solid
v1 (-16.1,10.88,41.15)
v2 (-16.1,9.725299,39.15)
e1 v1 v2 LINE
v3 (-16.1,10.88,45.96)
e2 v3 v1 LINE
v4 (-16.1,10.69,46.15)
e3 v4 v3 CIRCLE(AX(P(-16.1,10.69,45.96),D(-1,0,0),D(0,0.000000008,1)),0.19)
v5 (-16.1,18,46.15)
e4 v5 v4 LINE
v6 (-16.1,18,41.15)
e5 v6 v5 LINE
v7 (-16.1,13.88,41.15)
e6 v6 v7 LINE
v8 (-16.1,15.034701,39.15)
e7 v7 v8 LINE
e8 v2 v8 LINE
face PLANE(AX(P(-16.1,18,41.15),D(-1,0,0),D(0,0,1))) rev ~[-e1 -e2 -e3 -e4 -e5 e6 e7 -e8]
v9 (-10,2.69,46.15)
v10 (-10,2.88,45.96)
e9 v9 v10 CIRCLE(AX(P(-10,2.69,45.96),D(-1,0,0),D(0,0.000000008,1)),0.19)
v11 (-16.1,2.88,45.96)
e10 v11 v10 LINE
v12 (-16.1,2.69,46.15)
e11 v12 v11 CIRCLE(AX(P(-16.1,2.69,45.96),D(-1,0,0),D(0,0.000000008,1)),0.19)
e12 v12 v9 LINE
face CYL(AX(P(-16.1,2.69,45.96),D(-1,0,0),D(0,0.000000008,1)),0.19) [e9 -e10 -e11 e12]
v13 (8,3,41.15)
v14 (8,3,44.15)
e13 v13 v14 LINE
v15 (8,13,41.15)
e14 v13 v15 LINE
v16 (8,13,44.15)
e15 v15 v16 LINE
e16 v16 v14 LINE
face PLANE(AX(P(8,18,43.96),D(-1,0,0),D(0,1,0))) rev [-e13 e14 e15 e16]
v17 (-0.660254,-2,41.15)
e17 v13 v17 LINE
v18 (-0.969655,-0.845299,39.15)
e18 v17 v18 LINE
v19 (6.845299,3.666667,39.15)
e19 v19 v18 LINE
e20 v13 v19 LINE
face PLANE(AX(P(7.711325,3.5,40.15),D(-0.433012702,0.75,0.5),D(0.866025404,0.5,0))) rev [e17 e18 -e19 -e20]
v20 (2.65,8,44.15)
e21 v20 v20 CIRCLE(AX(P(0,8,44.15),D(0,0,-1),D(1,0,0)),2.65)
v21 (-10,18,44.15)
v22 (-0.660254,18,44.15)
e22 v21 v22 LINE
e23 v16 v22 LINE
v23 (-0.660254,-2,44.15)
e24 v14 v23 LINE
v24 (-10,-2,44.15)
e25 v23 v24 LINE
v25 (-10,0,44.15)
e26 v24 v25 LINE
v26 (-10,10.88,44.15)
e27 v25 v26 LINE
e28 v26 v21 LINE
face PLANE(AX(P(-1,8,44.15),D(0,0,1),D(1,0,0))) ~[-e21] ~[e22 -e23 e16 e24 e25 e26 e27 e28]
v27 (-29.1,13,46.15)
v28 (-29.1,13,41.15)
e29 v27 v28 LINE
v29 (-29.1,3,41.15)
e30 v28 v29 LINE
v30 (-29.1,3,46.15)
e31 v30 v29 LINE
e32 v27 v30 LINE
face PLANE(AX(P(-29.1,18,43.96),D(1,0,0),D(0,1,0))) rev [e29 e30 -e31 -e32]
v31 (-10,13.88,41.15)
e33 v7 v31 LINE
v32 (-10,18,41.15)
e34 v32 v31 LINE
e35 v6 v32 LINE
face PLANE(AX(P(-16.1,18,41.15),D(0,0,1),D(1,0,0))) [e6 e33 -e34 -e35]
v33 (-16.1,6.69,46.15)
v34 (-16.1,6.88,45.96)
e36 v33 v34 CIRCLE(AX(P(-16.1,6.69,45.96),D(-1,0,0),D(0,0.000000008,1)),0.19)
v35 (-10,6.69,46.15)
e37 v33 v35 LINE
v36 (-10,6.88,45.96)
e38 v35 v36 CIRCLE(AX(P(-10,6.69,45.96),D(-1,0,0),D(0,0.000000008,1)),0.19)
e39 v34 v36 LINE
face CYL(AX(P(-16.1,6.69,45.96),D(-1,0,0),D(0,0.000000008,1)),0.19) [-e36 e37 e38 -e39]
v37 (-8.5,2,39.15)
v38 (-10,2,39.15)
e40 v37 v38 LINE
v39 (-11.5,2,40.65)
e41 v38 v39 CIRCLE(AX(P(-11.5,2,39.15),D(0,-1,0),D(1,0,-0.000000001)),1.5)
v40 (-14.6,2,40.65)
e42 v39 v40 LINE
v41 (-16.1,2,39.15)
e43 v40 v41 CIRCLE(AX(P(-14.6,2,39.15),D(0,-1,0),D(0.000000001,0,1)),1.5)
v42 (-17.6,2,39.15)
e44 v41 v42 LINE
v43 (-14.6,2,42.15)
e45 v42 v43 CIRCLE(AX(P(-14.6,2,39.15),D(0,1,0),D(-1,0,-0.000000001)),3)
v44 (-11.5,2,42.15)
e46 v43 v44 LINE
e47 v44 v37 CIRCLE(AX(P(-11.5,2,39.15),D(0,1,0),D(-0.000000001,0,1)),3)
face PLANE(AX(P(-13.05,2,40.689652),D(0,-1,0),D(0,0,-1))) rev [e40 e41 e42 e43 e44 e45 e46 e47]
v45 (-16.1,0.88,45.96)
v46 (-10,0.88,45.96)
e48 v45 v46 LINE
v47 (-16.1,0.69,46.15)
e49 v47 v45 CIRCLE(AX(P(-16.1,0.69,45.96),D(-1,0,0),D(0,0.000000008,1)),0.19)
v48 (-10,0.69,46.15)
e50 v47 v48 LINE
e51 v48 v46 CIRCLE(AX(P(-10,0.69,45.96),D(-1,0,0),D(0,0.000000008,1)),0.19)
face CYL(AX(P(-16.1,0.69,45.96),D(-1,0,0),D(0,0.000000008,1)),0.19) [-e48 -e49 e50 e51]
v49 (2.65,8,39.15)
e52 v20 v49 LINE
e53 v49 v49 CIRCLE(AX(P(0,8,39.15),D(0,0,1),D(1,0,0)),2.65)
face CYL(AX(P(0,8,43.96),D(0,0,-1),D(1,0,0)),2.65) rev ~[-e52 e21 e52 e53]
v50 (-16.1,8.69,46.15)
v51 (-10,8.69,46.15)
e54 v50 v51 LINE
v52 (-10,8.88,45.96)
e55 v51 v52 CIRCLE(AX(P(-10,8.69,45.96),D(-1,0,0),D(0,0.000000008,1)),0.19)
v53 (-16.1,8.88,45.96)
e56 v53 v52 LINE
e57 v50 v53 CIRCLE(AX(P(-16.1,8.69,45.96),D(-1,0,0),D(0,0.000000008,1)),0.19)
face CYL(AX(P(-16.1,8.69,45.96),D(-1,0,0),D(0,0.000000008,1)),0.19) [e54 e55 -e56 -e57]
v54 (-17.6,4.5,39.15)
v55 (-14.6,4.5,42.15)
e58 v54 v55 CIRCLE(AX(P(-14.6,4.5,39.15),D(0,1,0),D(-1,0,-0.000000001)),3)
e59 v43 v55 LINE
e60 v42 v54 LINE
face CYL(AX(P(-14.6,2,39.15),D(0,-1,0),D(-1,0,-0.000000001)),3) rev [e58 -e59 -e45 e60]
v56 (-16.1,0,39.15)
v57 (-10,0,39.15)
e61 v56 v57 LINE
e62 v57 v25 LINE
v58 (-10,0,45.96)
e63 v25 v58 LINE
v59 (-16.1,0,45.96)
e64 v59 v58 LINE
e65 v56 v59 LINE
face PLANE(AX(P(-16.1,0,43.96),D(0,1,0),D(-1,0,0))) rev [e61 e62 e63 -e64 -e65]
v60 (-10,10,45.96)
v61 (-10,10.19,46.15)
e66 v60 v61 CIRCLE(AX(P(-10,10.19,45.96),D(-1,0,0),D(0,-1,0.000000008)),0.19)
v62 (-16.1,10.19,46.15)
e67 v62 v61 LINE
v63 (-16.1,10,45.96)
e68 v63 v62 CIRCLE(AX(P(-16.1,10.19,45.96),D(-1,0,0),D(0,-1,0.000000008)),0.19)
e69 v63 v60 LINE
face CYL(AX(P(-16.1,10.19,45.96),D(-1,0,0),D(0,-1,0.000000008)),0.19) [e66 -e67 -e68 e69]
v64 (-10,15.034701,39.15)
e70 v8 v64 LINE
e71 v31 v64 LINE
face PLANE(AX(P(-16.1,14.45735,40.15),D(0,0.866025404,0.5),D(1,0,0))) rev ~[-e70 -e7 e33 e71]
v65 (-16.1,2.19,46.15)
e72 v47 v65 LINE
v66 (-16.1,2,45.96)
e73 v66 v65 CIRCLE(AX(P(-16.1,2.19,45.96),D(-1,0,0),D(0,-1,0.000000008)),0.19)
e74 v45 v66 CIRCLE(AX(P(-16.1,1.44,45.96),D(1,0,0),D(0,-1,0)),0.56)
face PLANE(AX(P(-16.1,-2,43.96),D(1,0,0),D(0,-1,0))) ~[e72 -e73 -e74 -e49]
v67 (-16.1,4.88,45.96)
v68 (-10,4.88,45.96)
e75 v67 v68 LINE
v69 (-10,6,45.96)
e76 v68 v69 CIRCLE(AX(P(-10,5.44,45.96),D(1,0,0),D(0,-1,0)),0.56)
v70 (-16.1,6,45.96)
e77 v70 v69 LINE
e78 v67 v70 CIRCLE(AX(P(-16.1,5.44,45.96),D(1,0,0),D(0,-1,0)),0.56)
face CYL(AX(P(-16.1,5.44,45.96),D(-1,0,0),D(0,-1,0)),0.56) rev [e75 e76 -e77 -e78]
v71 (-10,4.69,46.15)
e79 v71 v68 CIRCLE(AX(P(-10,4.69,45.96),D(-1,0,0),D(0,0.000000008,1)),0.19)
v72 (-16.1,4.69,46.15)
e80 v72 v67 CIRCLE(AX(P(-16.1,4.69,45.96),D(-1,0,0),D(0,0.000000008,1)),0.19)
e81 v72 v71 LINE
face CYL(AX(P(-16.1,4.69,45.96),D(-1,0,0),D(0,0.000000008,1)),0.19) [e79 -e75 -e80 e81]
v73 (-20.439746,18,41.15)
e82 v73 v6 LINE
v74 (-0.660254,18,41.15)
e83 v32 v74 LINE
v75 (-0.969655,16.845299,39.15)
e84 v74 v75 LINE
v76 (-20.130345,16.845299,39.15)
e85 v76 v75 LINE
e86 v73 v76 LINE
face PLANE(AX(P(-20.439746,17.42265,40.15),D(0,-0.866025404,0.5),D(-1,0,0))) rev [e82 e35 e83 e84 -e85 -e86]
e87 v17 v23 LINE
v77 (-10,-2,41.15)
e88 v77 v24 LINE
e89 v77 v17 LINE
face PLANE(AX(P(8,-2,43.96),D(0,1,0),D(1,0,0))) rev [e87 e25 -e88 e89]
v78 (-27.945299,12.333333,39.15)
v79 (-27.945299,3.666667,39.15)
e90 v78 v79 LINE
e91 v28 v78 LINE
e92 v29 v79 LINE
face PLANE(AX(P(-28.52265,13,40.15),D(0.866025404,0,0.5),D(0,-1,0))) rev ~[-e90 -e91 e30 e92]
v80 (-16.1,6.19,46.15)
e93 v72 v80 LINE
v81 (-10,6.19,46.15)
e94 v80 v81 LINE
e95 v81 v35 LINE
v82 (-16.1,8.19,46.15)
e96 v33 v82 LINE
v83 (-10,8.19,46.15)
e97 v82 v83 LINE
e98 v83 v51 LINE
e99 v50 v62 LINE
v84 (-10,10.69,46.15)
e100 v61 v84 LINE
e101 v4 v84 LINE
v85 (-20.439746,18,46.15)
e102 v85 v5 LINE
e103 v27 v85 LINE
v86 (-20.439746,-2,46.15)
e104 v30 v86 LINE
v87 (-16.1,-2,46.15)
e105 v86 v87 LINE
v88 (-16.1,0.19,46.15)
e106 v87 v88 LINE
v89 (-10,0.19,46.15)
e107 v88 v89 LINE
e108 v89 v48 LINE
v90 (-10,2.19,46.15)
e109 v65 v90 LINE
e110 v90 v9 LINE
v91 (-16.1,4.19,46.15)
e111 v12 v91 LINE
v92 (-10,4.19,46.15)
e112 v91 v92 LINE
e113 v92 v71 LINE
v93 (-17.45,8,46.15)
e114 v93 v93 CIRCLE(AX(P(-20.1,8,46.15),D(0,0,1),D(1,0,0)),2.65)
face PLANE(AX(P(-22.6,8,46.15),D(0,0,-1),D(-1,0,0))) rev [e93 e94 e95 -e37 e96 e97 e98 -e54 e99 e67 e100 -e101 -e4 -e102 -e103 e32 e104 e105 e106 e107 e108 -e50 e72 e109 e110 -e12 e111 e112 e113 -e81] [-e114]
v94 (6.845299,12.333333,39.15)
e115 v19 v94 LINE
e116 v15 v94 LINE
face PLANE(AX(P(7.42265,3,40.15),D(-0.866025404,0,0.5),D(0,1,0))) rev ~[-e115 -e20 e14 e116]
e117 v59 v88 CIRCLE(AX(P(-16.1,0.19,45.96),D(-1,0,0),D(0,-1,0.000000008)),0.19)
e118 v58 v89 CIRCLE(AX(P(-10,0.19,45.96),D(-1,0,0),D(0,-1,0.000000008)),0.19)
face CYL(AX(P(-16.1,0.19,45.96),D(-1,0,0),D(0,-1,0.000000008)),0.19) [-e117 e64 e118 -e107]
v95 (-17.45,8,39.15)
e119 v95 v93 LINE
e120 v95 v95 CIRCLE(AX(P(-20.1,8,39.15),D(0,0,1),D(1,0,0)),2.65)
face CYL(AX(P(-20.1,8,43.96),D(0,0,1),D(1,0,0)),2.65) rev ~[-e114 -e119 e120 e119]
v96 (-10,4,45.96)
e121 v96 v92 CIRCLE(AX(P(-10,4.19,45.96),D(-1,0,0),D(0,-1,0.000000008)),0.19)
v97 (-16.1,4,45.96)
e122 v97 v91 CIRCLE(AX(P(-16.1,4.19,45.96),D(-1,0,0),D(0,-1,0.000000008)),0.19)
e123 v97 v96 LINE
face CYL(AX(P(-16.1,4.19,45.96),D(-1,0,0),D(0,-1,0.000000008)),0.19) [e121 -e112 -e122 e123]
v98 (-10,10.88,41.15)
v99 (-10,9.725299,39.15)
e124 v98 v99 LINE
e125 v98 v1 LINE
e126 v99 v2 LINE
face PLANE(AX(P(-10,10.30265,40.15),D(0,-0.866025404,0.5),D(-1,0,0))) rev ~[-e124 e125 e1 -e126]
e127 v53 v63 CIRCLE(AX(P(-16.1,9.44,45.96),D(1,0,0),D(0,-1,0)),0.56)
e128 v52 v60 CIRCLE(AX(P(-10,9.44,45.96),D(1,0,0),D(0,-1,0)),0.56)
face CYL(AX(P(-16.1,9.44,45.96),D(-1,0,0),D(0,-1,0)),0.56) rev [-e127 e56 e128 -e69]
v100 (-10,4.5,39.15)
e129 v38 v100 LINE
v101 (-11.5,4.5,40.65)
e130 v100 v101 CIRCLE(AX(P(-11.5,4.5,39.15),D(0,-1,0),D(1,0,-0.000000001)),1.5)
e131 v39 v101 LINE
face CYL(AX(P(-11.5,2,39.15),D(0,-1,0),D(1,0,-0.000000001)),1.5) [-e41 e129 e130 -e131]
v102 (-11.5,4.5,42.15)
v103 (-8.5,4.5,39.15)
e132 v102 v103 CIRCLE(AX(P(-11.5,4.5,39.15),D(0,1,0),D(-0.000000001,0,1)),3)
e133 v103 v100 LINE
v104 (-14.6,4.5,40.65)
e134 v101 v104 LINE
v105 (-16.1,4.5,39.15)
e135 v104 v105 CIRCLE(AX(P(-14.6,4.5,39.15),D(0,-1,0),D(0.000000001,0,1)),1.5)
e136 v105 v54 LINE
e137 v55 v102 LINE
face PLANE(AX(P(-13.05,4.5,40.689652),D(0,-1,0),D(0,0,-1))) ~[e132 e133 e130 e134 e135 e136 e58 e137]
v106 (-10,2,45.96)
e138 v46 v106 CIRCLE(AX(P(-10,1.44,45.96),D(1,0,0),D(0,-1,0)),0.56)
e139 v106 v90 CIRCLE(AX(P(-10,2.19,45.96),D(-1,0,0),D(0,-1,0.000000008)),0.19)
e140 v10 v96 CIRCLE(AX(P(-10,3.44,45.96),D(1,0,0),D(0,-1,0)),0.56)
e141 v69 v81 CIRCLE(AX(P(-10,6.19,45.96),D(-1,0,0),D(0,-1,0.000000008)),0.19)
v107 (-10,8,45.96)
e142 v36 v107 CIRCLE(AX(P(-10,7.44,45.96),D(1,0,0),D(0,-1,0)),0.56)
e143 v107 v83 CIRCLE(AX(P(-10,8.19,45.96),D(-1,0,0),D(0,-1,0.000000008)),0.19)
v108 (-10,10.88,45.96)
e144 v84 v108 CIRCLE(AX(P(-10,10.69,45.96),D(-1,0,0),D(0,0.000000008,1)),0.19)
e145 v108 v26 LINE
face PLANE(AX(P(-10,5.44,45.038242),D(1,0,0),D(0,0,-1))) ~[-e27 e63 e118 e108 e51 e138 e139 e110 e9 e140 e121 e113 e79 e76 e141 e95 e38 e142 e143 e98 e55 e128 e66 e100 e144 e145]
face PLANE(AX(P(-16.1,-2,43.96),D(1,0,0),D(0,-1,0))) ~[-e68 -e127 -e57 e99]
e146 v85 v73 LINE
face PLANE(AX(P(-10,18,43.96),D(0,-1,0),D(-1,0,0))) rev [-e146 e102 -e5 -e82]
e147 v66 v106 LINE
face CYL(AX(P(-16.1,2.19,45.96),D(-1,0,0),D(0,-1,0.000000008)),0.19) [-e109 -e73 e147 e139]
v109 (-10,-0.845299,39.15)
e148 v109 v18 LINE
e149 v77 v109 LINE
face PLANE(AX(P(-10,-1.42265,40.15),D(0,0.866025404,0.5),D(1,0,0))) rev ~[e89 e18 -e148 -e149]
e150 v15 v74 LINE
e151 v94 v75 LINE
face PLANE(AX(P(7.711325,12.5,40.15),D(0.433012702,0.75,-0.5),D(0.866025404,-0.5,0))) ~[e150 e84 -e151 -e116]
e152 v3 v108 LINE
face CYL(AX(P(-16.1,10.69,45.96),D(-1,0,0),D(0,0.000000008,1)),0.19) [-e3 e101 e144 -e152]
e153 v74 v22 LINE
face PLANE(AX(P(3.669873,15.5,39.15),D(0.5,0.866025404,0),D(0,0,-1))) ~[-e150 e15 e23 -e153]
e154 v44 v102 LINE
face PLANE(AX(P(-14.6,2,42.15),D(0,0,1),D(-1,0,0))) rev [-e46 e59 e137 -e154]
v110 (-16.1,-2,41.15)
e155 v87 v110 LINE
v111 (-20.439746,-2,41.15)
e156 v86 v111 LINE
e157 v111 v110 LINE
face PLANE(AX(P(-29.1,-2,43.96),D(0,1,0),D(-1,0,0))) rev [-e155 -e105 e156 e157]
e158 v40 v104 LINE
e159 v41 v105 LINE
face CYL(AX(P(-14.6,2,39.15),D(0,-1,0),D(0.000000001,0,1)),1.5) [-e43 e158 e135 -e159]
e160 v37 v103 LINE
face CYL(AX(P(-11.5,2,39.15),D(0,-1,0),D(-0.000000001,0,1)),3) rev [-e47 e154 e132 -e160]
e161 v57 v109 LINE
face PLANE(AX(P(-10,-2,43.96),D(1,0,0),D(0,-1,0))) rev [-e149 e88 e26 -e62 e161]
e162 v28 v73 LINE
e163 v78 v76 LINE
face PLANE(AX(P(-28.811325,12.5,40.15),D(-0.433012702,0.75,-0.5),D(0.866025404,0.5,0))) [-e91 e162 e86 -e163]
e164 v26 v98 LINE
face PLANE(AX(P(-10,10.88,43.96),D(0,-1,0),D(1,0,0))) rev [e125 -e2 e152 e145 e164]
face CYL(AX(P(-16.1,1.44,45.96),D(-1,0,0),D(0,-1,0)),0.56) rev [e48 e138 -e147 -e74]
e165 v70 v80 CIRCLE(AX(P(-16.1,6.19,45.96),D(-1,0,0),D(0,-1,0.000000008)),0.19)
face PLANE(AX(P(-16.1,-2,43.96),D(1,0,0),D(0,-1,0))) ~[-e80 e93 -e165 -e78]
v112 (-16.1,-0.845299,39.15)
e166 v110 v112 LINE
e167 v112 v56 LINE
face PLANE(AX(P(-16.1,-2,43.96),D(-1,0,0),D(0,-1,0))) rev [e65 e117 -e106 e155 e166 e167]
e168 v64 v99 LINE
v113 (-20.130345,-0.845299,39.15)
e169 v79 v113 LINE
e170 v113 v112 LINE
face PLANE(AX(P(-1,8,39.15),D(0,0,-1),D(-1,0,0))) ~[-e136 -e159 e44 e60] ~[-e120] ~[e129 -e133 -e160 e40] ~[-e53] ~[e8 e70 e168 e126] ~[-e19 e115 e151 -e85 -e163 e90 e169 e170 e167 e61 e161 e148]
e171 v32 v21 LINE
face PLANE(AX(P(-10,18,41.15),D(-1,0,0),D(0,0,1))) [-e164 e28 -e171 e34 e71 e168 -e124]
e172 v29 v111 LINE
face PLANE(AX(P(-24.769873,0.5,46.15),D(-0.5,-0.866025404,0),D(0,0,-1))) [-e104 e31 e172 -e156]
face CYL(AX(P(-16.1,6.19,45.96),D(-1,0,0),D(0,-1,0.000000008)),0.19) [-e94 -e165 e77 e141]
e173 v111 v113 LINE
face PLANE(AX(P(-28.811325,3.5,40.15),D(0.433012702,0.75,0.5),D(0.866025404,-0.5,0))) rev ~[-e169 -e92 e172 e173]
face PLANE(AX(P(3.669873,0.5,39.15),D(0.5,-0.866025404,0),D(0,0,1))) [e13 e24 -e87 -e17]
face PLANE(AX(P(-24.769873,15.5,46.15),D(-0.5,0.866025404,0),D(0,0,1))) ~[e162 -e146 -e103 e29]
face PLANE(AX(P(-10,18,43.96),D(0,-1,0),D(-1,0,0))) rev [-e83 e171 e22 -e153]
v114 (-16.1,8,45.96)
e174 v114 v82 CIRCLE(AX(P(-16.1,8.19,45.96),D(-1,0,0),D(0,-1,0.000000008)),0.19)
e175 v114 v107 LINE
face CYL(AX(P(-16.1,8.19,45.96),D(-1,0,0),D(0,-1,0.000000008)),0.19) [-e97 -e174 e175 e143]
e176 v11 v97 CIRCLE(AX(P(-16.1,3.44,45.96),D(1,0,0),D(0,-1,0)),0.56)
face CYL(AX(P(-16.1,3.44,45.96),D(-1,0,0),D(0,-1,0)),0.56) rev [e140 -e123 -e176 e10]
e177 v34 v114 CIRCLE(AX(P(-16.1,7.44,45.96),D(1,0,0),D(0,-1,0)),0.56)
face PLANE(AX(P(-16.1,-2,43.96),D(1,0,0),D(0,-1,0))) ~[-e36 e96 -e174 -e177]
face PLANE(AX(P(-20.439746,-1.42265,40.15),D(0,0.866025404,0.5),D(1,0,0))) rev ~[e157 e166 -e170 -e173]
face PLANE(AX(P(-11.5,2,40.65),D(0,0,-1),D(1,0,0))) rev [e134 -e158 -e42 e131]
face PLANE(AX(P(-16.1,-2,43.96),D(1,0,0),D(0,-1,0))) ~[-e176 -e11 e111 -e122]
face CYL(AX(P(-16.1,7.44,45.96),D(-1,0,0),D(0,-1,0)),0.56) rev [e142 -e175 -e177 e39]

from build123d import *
from OCP.BRepFilletAPI import BRepFilletAPI_MakeChamfer

# Parameters (mm, degrees)
AUFSATZ_LINEAR_AUSTRAGEN1_DEPTH    = 6.1
AUFSATZ_LINEAR_AUSTRAGEN1_2_DEPTH  = 6.1
SKIZZE2_W                          = 6
SKIZZE2_H                          = 10.88
SCHNITT_LINEAR_AUSTRAGEN1_DEPTH    = 6.1
SKIZZE3_R                          = 2.65
SKIZZE3_W                          = 6.1
SKIZZE3_H                          = 4.12
AUFSATZ_LINEAR_AUSTRAGEN2_DEPTH    = 2.19
SKIZZE4_R                          = 2.65
AUFSATZ_LINEAR_AUSTRAGEN3_DEPTH    = 4.81
SKIZZE5_R                          = 2.65
AUFSATZ_LINEAR_AUSTRAGEN4_DEPTH    = 0.19
FASE1_SIZE                         = 5
FASE1_SIZE2                        = 8.660254038
FASE2_SIZE                         = 2
FASE2_SIZE2                        = 1.154700538
SCHNITT_LINEAR_START               = -4
SCHNITT_LINEAR_AUSTRAGEN3_DEPTH    = 2.5
SCHNITT_LINEAR_AUSTRAGEN4_REACH    = 67.9
SKIZZE12_W                         = 5
SKIZZE12_H                         = 6.1
K_RPER_VERSCHIEBEN_KOPIEREN1_ANGLE = 90


with BuildPart() as part:
    # Skizze1 → Aufsatz-Linear austragen1 (new body)
    with BuildSketch(Plane.XY):
        Polygon((0, 0), (0, 9.44), (0, 10.88), (-6, 10.88), (-6, 0), align=None)
    extrude(amount=AUFSATZ_LINEAR_AUSTRAGEN1_DEPTH)

    # Skizze2 → Schnitt-Linear austragen1 (cut)
    with BuildSketch(Plane.XY.offset(6.1)):
        with Locations((-3, 5.44)):
            Rectangle(SKIZZE2_W, SKIZZE2_H)
    extrude(amount=-SCHNITT_LINEAR_AUSTRAGEN1_DEPTH, mode=Mode.SUBTRACT)


with BuildPart() as body_2:
    # Skizze1 → Aufsatz-Linear austragen1 2 (new body)
    with BuildSketch(Plane.XY):
        with BuildLine():
            Line((-7.05, 10.19), (-7.05, 10.69))
            ThreePointArc((-7.05, 10.69), (-7.105649712, 10.824350288), (-7.24, 10.88))
            Line((-7.24, 10.88), (-9.24, 10.88))
            Line((-9.24, 10.88), (-9.24, 0))
            Line((-9.24, 0), (-7.24, 0))
            ThreePointArc((-7.24, 0), (-7.105649712, 0.055649712), (-7.05, 0.19))
            Line((-7.05, 0.19), (-7.05, 0.69))
            ThreePointArc((-7.05, 0.69), (-7.105649712, 0.824350288), (-7.24, 0.88))
            ThreePointArc((-7.24, 0.88), (-7.8, 1.44), (-7.24, 2))
            ThreePointArc((-7.24, 2), (-7.105649712, 2.055649712), (-7.05, 2.19))
            Line((-7.05, 2.19), (-7.05, 2.69))
            ThreePointArc((-7.05, 2.69), (-7.105649712, 2.824350288), (-7.24, 2.88))
            ThreePointArc((-7.24, 2.88), (-7.8, 3.44), (-7.24, 4))
            ThreePointArc((-7.24, 4), (-7.105649712, 4.055649712), (-7.05, 4.19))
            Line((-7.05, 4.19), (-7.05, 4.69))
            ThreePointArc((-7.05, 4.69), (-7.105649712, 4.824350288), (-7.24, 4.88))
            ThreePointArc((-7.24, 4.88), (-7.8, 5.44), (-7.24, 6))
            ThreePointArc((-7.24, 6), (-7.105649712, 6.055649712), (-7.05, 6.19))
            Line((-7.05, 6.19), (-7.05, 6.69))
            ThreePointArc((-7.05, 6.69), (-7.105649712, 6.824350288), (-7.24, 6.88))
            ThreePointArc((-7.24, 6.88), (-7.8, 7.44), (-7.24, 8))
            ThreePointArc((-7.24, 8), (-7.105649712, 8.055649712), (-7.05, 8.19))
            Line((-7.05, 8.19), (-7.05, 8.69))
            ThreePointArc((-7.05, 8.69), (-7.105649712, 8.824350288), (-7.24, 8.88))
            ThreePointArc((-7.24, 8.88), (-7.8, 9.44), (-7.24, 10))
            ThreePointArc((-7.24, 10), (-7.105649712, 10.055649712), (-7.05, 10.19))
        make_face()
    extrude(amount=AUFSATZ_LINEAR_AUSTRAGEN1_2_DEPTH)

    # Skizze3 → Aufsatz-Linear austragen2 (add)
    # profile 1 of 2: a face of its own
    with BuildSketch(Plane.ZY.offset(9.24)):
        Polygon((-13, -2), (0, -2), (0, 13.88), (0, 18), (-13, 18), align=None)
        with Locations((-4, 8)):
            Circle(SKIZZE3_R, mode=Mode.SUBTRACT)
    # profile 2 of 2: a face of its own
    with BuildSketch(Plane.ZY.offset(9.24)):
        with Locations((3.05, 15.94)):
            Rectangle(SKIZZE3_W, SKIZZE3_H)
    extrude(amount=-AUFSATZ_LINEAR_AUSTRAGEN2_DEPTH)

    # Skizze4 → Aufsatz-Linear austragen3 (add)
    # profile 1 of 2: a face of its own
    with BuildSketch(Plane.ZY.offset(9.24)):
        Polygon((24.1, 18), (6.1, 18), (6.1, 13.88), (6.1, 10.88), (6.1, 0), (6.1, -2), (24.1, -2), align=None)
        with Locations((16.1, 8)):
            Circle(SKIZZE4_R, mode=Mode.SUBTRACT)
    # profile 2 of 2: a face of its own
    with BuildSketch(Plane.ZY.offset(9.24)):
        Polygon((6.1, 0), (6.1, 10.88), (0, 10.88), (0, 13.88), (6.1, 13.88), (6.1, 18), (-13, 18), (-13, -2), (0, -2), (0, 0), align=None)
        with Locations((-4, 8)):
            Circle(SKIZZE4_R, mode=Mode.SUBTRACT)
    extrude(amount=AUFSATZ_LINEAR_AUSTRAGEN3_DEPTH)

    # Skizze5 → Aufsatz-Linear austragen4 (add)
    with BuildSketch(Plane(origin=(-9.24, 0, 0), x_dir=(0, 0, -1), z_dir=(1, 0, 0))):
        Polygon((-6.1, 13.88), (-6.1, 18), (-24.1, 18), (-24.1, -2), (-6.1, -2), (-6.1, 0), (-6.1, 10.88), align=None)
        with Locations(Location((-16.1, 8, 0), (0, 0, 180))):
            Circle(SKIZZE5_R, mode=Mode.SUBTRACT)
    extrude(amount=AUFSATZ_LINEAR_AUSTRAGEN4_DEPTH)

    # Fase1: one chamfer whose edges measure the first distance from different faces: ONE call of the kernel's chamfer builder (chamfer() names one face for all edges)
    fase1_edges_1 = [body_2.edges().sort_by_distance(p)[0] for p in [
        (-11.645, -2, 24.1),
        (-11.645, 18, 24.1),
    ]]
    fase1_side_1 = [body_2.faces().sort_by_distance(p)[0] for p in [
        (-11.645, 8, 24.1),
    ]]
    fase1_edges_2 = [body_2.edges().sort_by_distance(p)[0] for p in [
        (-10.55, -2, -13),
        (-10.55, 18, -13),
    ]]
    fase1_side_2 = [body_2.faces().sort_by_distance(p)[0] for p in [
        (-10.55, 8, -13),
    ]]
    fase1 = BRepFilletAPI_MakeChamfer(body_2.part.solid().wrapped)
    for e in fase1_edges_1:
        fase1.Add(FASE1_SIZE, FASE1_SIZE2, e.wrapped, fase1_side_1[0].wrapped)  # the first distance lies on this face
    for e in fase1_edges_2:
        fase1.Add(FASE1_SIZE, FASE1_SIZE2, e.wrapped, fase1_side_2[0].wrapped)  # the first distance lies on this face
    add(Compound.cast(fase1.Shape()), mode=Mode.REPLACE)

    # Fase2: one chamfer whose edges measure the first distance from different faces: ONE call of the kernel's chamfer builder (chamfer() names one face for all edges)
    fase2_edges_1 = [body_2.edges().sort_by_distance(p)[0] for p in [
        (-14.05, -2, 10.769872981),
    ]]
    fase2_side_1 = [body_2.faces().sort_by_distance(p)[0] for p in [
        (-11.645, -2, 10.769872981),
    ]]
    fase2_edges_2 = [body_2.edges().sort_by_distance(p)[0] for p in [
        (-14.05, 10.88, 3.05),
    ]]
    fase2_side_2 = [body_2.faces().sort_by_distance(p)[0] for p in [
        (-11.645, 10.88, 3.05),
    ]]
    fase2_edges_3 = [body_2.edges().sort_by_distance(p)[0] for p in [
        (-14.05, 13.88, 3.05),
    ]]
    fase2_side_3 = [body_2.faces().sort_by_distance(p)[0] for p in [
        (-10.55, 13.88, 3.05),
    ]]
    fase2_edges_4 = [body_2.edges().sort_by_distance(p)[0] for p in [
        (-14.05, 18, 5.55),
    ]]
    fase2_side_4 = [body_2.faces().sort_by_distance(p)[0] for p in [
        (-10.939880768, 18, 4.735948766),
    ]]
    fase2_edges_5 = [body_2.edges().sort_by_distance(p)[0] for p in [
        (-14.05, 8, 24.1),
    ]]
    fase2_side_5 = [body_2.faces().sort_by_distance(p)[0] for p in [
        (-11.645, 8, 24.1),
    ]]
    fase2_edges_6 = [body_2.edges().sort_by_distance(p)[0] for p in [
        (-14.05, 8, -13),
    ]]
    fase2_side_6 = [body_2.faces().sort_by_distance(p)[0] for p in [
        (-10.55, 8, -13),
    ]]
    fase2_edges_7 = [body_2.edges().sort_by_distance(p)[0] for p in [
        (-14.05, -2, -2.169872981),
    ]]
    fase2_side_7 = [body_2.faces().sort_by_distance(p)[0] for p in [
        (-10.55, -2, -2.169872981),
    ]]
    fase2_edges_8 = [body_2.edges().sort_by_distance(p)[0] for p in [
        (-14.05, 0.5, -8.669872981),
    ]]
    fase2_side_8 = [body_2.faces().sort_by_distance(p)[0] for p in [
        (-10.55, 0.5, -8.669872981),
    ]]
    fase2_edges_9 = [body_2.edges().sort_by_distance(p)[0] for p in [
        (-14.05, 0.5, 19.769872981),
    ]]
    fase2_side_9 = [body_2.faces().sort_by_distance(p)[0] for p in [
        (-11.645, 0.5, 19.769872981),
    ]]
    fase2_edges_10 = [body_2.edges().sort_by_distance(p)[0] for p in [
        (-14.05, 15.5, 19.769872981),
    ]]
    fase2_side_10 = [body_2.faces().sort_by_distance(p)[0] for p in [
        (-11.645, 15.5, 19.769872981),
    ]]
    fase2_edges_11 = [body_2.edges().sort_by_distance(p)[0] for p in [
        (-14.05, 15.5, -8.669872981),
    ]]
    fase2_side_11 = [body_2.faces().sort_by_distance(p)[0] for p in [
        (-10.55, 15.5, -8.669872981),
    ]]
    fase2 = BRepFilletAPI_MakeChamfer(body_2.part.solid().wrapped)
    for e in fase2_edges_1:
        fase2.Add(FASE2_SIZE, FASE2_SIZE2, e.wrapped, fase2_side_1[0].wrapped)  # the first distance lies on this face
    for e in fase2_edges_2:
        fase2.Add(FASE2_SIZE, FASE2_SIZE2, e.wrapped, fase2_side_2[0].wrapped)  # the first distance lies on this face
    for e in fase2_edges_3:
        fase2.Add(FASE2_SIZE, FASE2_SIZE2, e.wrapped, fase2_side_3[0].wrapped)  # the first distance lies on this face
    for e in fase2_edges_4:
        fase2.Add(FASE2_SIZE, FASE2_SIZE2, e.wrapped, fase2_side_4[0].wrapped)  # the first distance lies on this face
    for e in fase2_edges_5:
        fase2.Add(FASE2_SIZE, FASE2_SIZE2, e.wrapped, fase2_side_5[0].wrapped)  # the first distance lies on this face
    for e in fase2_edges_6:
        fase2.Add(FASE2_SIZE, FASE2_SIZE2, e.wrapped, fase2_side_6[0].wrapped)  # the first distance lies on this face
    for e in fase2_edges_7:
        fase2.Add(FASE2_SIZE, FASE2_SIZE2, e.wrapped, fase2_side_7[0].wrapped)  # the first distance lies on this face
    for e in fase2_edges_8:
        fase2.Add(FASE2_SIZE, FASE2_SIZE2, e.wrapped, fase2_side_8[0].wrapped)  # the first distance lies on this face
    for e in fase2_edges_9:
        fase2.Add(FASE2_SIZE, FASE2_SIZE2, e.wrapped, fase2_side_9[0].wrapped)  # the first distance lies on this face
    for e in fase2_edges_10:
        fase2.Add(FASE2_SIZE, FASE2_SIZE2, e.wrapped, fase2_side_10[0].wrapped)  # the first distance lies on this face
    for e in fase2_edges_11:
        fase2.Add(FASE2_SIZE, FASE2_SIZE2, e.wrapped, fase2_side_11[0].wrapped)  # the first distance lies on this face
    add(Compound.cast(fase2.Shape()), mode=Mode.REPLACE)

    # Skizze11 → Schnitt-Linear austragen3 (cut)
    with BuildSketch(Plane.XZ.offset(2).offset(SCHNITT_LINEAR_START)):
        with BuildLine():
            Line((-14.05, 7.6), (-14.05, 6.1))
            ThreePointArc((-14.05, 6.1), (-12.989339828, 5.660660172), (-12.55, 4.6))
            Line((-12.55, 4.6), (-12.55, 1.5))
            ThreePointArc((-12.55, 1.5), (-12.989339828, 0.439339828), (-14.05, 0))
            Line((-14.05, 0), (-14.05, -1.5))
            ThreePointArc((-14.05, -1.5), (-11.928679656, -0.621320344), (-11.05, 1.5))
            Line((-11.05, 1.5), (-11.05, 4.6))
            ThreePointArc((-11.05, 4.6), (-11.928679656, 6.721320344), (-14.05, 7.6))
        make_face()
    extrude(amount=-SCHNITT_LINEAR_AUSTRAGEN3_DEPTH, mode=Mode.SUBTRACT)


with BuildPart() as body_2_2:
    # Spiegeln1: mirrored copy
    add(body_2.part.mirror(Plane(origin=(-63.197479165, -24.924466517, 24.1), x_dir=(1, 0, 0), z_dir=(0, 0, 1))))

    # Schnitt-Linear austragen4: up to this plane
    schnitt_linear_austragen4_end = Plane(origin=(-14.05, 15.034700538, 42.1), z_dir=(0.4999999999999981, 0.8660254037844397, 0))
    # Skizze12 → Schnitt-Linear austragen4 (cut, up to the surface)
    with BuildSketch(Plane(origin=(0, 18, 0), x_dir=(1, 0, 0), z_dir=(0, 1, 0)), mode=Mode.PRIVATE) as schnitt_linear_austragen4_sk1:
        with Locations((-9.55, -45.15)):
            Rectangle(SKIZZE12_W, SKIZZE12_H)
    schnitt_linear_austragen4_tool1 = split(extrude(schnitt_linear_austragen4_sk1.sketch, amount=-SCHNITT_LINEAR_AUSTRAGEN4_REACH, mode=Mode.PRIVATE), bisect_by=schnitt_linear_austragen4_end, keep=Keep.BOTH, mode=Mode.PRIVATE)
    add(schnitt_linear_austragen4_tool1.solids().sort_by_distance((-9.55, 18, 45.15))[0], mode=Mode.SUBTRACT)


with BuildPart() as body_2_2_1:
    # Körper-Verschieben/Kopieren1: moved
    add(body_2_2.part.rotate(Axis((-10.55, 0, 42.65), (0, -1, 0)), K_RPER_VERSCHIEBEN_KOPIEREN1_ANGLE))


solid = body_2_2_1.part
